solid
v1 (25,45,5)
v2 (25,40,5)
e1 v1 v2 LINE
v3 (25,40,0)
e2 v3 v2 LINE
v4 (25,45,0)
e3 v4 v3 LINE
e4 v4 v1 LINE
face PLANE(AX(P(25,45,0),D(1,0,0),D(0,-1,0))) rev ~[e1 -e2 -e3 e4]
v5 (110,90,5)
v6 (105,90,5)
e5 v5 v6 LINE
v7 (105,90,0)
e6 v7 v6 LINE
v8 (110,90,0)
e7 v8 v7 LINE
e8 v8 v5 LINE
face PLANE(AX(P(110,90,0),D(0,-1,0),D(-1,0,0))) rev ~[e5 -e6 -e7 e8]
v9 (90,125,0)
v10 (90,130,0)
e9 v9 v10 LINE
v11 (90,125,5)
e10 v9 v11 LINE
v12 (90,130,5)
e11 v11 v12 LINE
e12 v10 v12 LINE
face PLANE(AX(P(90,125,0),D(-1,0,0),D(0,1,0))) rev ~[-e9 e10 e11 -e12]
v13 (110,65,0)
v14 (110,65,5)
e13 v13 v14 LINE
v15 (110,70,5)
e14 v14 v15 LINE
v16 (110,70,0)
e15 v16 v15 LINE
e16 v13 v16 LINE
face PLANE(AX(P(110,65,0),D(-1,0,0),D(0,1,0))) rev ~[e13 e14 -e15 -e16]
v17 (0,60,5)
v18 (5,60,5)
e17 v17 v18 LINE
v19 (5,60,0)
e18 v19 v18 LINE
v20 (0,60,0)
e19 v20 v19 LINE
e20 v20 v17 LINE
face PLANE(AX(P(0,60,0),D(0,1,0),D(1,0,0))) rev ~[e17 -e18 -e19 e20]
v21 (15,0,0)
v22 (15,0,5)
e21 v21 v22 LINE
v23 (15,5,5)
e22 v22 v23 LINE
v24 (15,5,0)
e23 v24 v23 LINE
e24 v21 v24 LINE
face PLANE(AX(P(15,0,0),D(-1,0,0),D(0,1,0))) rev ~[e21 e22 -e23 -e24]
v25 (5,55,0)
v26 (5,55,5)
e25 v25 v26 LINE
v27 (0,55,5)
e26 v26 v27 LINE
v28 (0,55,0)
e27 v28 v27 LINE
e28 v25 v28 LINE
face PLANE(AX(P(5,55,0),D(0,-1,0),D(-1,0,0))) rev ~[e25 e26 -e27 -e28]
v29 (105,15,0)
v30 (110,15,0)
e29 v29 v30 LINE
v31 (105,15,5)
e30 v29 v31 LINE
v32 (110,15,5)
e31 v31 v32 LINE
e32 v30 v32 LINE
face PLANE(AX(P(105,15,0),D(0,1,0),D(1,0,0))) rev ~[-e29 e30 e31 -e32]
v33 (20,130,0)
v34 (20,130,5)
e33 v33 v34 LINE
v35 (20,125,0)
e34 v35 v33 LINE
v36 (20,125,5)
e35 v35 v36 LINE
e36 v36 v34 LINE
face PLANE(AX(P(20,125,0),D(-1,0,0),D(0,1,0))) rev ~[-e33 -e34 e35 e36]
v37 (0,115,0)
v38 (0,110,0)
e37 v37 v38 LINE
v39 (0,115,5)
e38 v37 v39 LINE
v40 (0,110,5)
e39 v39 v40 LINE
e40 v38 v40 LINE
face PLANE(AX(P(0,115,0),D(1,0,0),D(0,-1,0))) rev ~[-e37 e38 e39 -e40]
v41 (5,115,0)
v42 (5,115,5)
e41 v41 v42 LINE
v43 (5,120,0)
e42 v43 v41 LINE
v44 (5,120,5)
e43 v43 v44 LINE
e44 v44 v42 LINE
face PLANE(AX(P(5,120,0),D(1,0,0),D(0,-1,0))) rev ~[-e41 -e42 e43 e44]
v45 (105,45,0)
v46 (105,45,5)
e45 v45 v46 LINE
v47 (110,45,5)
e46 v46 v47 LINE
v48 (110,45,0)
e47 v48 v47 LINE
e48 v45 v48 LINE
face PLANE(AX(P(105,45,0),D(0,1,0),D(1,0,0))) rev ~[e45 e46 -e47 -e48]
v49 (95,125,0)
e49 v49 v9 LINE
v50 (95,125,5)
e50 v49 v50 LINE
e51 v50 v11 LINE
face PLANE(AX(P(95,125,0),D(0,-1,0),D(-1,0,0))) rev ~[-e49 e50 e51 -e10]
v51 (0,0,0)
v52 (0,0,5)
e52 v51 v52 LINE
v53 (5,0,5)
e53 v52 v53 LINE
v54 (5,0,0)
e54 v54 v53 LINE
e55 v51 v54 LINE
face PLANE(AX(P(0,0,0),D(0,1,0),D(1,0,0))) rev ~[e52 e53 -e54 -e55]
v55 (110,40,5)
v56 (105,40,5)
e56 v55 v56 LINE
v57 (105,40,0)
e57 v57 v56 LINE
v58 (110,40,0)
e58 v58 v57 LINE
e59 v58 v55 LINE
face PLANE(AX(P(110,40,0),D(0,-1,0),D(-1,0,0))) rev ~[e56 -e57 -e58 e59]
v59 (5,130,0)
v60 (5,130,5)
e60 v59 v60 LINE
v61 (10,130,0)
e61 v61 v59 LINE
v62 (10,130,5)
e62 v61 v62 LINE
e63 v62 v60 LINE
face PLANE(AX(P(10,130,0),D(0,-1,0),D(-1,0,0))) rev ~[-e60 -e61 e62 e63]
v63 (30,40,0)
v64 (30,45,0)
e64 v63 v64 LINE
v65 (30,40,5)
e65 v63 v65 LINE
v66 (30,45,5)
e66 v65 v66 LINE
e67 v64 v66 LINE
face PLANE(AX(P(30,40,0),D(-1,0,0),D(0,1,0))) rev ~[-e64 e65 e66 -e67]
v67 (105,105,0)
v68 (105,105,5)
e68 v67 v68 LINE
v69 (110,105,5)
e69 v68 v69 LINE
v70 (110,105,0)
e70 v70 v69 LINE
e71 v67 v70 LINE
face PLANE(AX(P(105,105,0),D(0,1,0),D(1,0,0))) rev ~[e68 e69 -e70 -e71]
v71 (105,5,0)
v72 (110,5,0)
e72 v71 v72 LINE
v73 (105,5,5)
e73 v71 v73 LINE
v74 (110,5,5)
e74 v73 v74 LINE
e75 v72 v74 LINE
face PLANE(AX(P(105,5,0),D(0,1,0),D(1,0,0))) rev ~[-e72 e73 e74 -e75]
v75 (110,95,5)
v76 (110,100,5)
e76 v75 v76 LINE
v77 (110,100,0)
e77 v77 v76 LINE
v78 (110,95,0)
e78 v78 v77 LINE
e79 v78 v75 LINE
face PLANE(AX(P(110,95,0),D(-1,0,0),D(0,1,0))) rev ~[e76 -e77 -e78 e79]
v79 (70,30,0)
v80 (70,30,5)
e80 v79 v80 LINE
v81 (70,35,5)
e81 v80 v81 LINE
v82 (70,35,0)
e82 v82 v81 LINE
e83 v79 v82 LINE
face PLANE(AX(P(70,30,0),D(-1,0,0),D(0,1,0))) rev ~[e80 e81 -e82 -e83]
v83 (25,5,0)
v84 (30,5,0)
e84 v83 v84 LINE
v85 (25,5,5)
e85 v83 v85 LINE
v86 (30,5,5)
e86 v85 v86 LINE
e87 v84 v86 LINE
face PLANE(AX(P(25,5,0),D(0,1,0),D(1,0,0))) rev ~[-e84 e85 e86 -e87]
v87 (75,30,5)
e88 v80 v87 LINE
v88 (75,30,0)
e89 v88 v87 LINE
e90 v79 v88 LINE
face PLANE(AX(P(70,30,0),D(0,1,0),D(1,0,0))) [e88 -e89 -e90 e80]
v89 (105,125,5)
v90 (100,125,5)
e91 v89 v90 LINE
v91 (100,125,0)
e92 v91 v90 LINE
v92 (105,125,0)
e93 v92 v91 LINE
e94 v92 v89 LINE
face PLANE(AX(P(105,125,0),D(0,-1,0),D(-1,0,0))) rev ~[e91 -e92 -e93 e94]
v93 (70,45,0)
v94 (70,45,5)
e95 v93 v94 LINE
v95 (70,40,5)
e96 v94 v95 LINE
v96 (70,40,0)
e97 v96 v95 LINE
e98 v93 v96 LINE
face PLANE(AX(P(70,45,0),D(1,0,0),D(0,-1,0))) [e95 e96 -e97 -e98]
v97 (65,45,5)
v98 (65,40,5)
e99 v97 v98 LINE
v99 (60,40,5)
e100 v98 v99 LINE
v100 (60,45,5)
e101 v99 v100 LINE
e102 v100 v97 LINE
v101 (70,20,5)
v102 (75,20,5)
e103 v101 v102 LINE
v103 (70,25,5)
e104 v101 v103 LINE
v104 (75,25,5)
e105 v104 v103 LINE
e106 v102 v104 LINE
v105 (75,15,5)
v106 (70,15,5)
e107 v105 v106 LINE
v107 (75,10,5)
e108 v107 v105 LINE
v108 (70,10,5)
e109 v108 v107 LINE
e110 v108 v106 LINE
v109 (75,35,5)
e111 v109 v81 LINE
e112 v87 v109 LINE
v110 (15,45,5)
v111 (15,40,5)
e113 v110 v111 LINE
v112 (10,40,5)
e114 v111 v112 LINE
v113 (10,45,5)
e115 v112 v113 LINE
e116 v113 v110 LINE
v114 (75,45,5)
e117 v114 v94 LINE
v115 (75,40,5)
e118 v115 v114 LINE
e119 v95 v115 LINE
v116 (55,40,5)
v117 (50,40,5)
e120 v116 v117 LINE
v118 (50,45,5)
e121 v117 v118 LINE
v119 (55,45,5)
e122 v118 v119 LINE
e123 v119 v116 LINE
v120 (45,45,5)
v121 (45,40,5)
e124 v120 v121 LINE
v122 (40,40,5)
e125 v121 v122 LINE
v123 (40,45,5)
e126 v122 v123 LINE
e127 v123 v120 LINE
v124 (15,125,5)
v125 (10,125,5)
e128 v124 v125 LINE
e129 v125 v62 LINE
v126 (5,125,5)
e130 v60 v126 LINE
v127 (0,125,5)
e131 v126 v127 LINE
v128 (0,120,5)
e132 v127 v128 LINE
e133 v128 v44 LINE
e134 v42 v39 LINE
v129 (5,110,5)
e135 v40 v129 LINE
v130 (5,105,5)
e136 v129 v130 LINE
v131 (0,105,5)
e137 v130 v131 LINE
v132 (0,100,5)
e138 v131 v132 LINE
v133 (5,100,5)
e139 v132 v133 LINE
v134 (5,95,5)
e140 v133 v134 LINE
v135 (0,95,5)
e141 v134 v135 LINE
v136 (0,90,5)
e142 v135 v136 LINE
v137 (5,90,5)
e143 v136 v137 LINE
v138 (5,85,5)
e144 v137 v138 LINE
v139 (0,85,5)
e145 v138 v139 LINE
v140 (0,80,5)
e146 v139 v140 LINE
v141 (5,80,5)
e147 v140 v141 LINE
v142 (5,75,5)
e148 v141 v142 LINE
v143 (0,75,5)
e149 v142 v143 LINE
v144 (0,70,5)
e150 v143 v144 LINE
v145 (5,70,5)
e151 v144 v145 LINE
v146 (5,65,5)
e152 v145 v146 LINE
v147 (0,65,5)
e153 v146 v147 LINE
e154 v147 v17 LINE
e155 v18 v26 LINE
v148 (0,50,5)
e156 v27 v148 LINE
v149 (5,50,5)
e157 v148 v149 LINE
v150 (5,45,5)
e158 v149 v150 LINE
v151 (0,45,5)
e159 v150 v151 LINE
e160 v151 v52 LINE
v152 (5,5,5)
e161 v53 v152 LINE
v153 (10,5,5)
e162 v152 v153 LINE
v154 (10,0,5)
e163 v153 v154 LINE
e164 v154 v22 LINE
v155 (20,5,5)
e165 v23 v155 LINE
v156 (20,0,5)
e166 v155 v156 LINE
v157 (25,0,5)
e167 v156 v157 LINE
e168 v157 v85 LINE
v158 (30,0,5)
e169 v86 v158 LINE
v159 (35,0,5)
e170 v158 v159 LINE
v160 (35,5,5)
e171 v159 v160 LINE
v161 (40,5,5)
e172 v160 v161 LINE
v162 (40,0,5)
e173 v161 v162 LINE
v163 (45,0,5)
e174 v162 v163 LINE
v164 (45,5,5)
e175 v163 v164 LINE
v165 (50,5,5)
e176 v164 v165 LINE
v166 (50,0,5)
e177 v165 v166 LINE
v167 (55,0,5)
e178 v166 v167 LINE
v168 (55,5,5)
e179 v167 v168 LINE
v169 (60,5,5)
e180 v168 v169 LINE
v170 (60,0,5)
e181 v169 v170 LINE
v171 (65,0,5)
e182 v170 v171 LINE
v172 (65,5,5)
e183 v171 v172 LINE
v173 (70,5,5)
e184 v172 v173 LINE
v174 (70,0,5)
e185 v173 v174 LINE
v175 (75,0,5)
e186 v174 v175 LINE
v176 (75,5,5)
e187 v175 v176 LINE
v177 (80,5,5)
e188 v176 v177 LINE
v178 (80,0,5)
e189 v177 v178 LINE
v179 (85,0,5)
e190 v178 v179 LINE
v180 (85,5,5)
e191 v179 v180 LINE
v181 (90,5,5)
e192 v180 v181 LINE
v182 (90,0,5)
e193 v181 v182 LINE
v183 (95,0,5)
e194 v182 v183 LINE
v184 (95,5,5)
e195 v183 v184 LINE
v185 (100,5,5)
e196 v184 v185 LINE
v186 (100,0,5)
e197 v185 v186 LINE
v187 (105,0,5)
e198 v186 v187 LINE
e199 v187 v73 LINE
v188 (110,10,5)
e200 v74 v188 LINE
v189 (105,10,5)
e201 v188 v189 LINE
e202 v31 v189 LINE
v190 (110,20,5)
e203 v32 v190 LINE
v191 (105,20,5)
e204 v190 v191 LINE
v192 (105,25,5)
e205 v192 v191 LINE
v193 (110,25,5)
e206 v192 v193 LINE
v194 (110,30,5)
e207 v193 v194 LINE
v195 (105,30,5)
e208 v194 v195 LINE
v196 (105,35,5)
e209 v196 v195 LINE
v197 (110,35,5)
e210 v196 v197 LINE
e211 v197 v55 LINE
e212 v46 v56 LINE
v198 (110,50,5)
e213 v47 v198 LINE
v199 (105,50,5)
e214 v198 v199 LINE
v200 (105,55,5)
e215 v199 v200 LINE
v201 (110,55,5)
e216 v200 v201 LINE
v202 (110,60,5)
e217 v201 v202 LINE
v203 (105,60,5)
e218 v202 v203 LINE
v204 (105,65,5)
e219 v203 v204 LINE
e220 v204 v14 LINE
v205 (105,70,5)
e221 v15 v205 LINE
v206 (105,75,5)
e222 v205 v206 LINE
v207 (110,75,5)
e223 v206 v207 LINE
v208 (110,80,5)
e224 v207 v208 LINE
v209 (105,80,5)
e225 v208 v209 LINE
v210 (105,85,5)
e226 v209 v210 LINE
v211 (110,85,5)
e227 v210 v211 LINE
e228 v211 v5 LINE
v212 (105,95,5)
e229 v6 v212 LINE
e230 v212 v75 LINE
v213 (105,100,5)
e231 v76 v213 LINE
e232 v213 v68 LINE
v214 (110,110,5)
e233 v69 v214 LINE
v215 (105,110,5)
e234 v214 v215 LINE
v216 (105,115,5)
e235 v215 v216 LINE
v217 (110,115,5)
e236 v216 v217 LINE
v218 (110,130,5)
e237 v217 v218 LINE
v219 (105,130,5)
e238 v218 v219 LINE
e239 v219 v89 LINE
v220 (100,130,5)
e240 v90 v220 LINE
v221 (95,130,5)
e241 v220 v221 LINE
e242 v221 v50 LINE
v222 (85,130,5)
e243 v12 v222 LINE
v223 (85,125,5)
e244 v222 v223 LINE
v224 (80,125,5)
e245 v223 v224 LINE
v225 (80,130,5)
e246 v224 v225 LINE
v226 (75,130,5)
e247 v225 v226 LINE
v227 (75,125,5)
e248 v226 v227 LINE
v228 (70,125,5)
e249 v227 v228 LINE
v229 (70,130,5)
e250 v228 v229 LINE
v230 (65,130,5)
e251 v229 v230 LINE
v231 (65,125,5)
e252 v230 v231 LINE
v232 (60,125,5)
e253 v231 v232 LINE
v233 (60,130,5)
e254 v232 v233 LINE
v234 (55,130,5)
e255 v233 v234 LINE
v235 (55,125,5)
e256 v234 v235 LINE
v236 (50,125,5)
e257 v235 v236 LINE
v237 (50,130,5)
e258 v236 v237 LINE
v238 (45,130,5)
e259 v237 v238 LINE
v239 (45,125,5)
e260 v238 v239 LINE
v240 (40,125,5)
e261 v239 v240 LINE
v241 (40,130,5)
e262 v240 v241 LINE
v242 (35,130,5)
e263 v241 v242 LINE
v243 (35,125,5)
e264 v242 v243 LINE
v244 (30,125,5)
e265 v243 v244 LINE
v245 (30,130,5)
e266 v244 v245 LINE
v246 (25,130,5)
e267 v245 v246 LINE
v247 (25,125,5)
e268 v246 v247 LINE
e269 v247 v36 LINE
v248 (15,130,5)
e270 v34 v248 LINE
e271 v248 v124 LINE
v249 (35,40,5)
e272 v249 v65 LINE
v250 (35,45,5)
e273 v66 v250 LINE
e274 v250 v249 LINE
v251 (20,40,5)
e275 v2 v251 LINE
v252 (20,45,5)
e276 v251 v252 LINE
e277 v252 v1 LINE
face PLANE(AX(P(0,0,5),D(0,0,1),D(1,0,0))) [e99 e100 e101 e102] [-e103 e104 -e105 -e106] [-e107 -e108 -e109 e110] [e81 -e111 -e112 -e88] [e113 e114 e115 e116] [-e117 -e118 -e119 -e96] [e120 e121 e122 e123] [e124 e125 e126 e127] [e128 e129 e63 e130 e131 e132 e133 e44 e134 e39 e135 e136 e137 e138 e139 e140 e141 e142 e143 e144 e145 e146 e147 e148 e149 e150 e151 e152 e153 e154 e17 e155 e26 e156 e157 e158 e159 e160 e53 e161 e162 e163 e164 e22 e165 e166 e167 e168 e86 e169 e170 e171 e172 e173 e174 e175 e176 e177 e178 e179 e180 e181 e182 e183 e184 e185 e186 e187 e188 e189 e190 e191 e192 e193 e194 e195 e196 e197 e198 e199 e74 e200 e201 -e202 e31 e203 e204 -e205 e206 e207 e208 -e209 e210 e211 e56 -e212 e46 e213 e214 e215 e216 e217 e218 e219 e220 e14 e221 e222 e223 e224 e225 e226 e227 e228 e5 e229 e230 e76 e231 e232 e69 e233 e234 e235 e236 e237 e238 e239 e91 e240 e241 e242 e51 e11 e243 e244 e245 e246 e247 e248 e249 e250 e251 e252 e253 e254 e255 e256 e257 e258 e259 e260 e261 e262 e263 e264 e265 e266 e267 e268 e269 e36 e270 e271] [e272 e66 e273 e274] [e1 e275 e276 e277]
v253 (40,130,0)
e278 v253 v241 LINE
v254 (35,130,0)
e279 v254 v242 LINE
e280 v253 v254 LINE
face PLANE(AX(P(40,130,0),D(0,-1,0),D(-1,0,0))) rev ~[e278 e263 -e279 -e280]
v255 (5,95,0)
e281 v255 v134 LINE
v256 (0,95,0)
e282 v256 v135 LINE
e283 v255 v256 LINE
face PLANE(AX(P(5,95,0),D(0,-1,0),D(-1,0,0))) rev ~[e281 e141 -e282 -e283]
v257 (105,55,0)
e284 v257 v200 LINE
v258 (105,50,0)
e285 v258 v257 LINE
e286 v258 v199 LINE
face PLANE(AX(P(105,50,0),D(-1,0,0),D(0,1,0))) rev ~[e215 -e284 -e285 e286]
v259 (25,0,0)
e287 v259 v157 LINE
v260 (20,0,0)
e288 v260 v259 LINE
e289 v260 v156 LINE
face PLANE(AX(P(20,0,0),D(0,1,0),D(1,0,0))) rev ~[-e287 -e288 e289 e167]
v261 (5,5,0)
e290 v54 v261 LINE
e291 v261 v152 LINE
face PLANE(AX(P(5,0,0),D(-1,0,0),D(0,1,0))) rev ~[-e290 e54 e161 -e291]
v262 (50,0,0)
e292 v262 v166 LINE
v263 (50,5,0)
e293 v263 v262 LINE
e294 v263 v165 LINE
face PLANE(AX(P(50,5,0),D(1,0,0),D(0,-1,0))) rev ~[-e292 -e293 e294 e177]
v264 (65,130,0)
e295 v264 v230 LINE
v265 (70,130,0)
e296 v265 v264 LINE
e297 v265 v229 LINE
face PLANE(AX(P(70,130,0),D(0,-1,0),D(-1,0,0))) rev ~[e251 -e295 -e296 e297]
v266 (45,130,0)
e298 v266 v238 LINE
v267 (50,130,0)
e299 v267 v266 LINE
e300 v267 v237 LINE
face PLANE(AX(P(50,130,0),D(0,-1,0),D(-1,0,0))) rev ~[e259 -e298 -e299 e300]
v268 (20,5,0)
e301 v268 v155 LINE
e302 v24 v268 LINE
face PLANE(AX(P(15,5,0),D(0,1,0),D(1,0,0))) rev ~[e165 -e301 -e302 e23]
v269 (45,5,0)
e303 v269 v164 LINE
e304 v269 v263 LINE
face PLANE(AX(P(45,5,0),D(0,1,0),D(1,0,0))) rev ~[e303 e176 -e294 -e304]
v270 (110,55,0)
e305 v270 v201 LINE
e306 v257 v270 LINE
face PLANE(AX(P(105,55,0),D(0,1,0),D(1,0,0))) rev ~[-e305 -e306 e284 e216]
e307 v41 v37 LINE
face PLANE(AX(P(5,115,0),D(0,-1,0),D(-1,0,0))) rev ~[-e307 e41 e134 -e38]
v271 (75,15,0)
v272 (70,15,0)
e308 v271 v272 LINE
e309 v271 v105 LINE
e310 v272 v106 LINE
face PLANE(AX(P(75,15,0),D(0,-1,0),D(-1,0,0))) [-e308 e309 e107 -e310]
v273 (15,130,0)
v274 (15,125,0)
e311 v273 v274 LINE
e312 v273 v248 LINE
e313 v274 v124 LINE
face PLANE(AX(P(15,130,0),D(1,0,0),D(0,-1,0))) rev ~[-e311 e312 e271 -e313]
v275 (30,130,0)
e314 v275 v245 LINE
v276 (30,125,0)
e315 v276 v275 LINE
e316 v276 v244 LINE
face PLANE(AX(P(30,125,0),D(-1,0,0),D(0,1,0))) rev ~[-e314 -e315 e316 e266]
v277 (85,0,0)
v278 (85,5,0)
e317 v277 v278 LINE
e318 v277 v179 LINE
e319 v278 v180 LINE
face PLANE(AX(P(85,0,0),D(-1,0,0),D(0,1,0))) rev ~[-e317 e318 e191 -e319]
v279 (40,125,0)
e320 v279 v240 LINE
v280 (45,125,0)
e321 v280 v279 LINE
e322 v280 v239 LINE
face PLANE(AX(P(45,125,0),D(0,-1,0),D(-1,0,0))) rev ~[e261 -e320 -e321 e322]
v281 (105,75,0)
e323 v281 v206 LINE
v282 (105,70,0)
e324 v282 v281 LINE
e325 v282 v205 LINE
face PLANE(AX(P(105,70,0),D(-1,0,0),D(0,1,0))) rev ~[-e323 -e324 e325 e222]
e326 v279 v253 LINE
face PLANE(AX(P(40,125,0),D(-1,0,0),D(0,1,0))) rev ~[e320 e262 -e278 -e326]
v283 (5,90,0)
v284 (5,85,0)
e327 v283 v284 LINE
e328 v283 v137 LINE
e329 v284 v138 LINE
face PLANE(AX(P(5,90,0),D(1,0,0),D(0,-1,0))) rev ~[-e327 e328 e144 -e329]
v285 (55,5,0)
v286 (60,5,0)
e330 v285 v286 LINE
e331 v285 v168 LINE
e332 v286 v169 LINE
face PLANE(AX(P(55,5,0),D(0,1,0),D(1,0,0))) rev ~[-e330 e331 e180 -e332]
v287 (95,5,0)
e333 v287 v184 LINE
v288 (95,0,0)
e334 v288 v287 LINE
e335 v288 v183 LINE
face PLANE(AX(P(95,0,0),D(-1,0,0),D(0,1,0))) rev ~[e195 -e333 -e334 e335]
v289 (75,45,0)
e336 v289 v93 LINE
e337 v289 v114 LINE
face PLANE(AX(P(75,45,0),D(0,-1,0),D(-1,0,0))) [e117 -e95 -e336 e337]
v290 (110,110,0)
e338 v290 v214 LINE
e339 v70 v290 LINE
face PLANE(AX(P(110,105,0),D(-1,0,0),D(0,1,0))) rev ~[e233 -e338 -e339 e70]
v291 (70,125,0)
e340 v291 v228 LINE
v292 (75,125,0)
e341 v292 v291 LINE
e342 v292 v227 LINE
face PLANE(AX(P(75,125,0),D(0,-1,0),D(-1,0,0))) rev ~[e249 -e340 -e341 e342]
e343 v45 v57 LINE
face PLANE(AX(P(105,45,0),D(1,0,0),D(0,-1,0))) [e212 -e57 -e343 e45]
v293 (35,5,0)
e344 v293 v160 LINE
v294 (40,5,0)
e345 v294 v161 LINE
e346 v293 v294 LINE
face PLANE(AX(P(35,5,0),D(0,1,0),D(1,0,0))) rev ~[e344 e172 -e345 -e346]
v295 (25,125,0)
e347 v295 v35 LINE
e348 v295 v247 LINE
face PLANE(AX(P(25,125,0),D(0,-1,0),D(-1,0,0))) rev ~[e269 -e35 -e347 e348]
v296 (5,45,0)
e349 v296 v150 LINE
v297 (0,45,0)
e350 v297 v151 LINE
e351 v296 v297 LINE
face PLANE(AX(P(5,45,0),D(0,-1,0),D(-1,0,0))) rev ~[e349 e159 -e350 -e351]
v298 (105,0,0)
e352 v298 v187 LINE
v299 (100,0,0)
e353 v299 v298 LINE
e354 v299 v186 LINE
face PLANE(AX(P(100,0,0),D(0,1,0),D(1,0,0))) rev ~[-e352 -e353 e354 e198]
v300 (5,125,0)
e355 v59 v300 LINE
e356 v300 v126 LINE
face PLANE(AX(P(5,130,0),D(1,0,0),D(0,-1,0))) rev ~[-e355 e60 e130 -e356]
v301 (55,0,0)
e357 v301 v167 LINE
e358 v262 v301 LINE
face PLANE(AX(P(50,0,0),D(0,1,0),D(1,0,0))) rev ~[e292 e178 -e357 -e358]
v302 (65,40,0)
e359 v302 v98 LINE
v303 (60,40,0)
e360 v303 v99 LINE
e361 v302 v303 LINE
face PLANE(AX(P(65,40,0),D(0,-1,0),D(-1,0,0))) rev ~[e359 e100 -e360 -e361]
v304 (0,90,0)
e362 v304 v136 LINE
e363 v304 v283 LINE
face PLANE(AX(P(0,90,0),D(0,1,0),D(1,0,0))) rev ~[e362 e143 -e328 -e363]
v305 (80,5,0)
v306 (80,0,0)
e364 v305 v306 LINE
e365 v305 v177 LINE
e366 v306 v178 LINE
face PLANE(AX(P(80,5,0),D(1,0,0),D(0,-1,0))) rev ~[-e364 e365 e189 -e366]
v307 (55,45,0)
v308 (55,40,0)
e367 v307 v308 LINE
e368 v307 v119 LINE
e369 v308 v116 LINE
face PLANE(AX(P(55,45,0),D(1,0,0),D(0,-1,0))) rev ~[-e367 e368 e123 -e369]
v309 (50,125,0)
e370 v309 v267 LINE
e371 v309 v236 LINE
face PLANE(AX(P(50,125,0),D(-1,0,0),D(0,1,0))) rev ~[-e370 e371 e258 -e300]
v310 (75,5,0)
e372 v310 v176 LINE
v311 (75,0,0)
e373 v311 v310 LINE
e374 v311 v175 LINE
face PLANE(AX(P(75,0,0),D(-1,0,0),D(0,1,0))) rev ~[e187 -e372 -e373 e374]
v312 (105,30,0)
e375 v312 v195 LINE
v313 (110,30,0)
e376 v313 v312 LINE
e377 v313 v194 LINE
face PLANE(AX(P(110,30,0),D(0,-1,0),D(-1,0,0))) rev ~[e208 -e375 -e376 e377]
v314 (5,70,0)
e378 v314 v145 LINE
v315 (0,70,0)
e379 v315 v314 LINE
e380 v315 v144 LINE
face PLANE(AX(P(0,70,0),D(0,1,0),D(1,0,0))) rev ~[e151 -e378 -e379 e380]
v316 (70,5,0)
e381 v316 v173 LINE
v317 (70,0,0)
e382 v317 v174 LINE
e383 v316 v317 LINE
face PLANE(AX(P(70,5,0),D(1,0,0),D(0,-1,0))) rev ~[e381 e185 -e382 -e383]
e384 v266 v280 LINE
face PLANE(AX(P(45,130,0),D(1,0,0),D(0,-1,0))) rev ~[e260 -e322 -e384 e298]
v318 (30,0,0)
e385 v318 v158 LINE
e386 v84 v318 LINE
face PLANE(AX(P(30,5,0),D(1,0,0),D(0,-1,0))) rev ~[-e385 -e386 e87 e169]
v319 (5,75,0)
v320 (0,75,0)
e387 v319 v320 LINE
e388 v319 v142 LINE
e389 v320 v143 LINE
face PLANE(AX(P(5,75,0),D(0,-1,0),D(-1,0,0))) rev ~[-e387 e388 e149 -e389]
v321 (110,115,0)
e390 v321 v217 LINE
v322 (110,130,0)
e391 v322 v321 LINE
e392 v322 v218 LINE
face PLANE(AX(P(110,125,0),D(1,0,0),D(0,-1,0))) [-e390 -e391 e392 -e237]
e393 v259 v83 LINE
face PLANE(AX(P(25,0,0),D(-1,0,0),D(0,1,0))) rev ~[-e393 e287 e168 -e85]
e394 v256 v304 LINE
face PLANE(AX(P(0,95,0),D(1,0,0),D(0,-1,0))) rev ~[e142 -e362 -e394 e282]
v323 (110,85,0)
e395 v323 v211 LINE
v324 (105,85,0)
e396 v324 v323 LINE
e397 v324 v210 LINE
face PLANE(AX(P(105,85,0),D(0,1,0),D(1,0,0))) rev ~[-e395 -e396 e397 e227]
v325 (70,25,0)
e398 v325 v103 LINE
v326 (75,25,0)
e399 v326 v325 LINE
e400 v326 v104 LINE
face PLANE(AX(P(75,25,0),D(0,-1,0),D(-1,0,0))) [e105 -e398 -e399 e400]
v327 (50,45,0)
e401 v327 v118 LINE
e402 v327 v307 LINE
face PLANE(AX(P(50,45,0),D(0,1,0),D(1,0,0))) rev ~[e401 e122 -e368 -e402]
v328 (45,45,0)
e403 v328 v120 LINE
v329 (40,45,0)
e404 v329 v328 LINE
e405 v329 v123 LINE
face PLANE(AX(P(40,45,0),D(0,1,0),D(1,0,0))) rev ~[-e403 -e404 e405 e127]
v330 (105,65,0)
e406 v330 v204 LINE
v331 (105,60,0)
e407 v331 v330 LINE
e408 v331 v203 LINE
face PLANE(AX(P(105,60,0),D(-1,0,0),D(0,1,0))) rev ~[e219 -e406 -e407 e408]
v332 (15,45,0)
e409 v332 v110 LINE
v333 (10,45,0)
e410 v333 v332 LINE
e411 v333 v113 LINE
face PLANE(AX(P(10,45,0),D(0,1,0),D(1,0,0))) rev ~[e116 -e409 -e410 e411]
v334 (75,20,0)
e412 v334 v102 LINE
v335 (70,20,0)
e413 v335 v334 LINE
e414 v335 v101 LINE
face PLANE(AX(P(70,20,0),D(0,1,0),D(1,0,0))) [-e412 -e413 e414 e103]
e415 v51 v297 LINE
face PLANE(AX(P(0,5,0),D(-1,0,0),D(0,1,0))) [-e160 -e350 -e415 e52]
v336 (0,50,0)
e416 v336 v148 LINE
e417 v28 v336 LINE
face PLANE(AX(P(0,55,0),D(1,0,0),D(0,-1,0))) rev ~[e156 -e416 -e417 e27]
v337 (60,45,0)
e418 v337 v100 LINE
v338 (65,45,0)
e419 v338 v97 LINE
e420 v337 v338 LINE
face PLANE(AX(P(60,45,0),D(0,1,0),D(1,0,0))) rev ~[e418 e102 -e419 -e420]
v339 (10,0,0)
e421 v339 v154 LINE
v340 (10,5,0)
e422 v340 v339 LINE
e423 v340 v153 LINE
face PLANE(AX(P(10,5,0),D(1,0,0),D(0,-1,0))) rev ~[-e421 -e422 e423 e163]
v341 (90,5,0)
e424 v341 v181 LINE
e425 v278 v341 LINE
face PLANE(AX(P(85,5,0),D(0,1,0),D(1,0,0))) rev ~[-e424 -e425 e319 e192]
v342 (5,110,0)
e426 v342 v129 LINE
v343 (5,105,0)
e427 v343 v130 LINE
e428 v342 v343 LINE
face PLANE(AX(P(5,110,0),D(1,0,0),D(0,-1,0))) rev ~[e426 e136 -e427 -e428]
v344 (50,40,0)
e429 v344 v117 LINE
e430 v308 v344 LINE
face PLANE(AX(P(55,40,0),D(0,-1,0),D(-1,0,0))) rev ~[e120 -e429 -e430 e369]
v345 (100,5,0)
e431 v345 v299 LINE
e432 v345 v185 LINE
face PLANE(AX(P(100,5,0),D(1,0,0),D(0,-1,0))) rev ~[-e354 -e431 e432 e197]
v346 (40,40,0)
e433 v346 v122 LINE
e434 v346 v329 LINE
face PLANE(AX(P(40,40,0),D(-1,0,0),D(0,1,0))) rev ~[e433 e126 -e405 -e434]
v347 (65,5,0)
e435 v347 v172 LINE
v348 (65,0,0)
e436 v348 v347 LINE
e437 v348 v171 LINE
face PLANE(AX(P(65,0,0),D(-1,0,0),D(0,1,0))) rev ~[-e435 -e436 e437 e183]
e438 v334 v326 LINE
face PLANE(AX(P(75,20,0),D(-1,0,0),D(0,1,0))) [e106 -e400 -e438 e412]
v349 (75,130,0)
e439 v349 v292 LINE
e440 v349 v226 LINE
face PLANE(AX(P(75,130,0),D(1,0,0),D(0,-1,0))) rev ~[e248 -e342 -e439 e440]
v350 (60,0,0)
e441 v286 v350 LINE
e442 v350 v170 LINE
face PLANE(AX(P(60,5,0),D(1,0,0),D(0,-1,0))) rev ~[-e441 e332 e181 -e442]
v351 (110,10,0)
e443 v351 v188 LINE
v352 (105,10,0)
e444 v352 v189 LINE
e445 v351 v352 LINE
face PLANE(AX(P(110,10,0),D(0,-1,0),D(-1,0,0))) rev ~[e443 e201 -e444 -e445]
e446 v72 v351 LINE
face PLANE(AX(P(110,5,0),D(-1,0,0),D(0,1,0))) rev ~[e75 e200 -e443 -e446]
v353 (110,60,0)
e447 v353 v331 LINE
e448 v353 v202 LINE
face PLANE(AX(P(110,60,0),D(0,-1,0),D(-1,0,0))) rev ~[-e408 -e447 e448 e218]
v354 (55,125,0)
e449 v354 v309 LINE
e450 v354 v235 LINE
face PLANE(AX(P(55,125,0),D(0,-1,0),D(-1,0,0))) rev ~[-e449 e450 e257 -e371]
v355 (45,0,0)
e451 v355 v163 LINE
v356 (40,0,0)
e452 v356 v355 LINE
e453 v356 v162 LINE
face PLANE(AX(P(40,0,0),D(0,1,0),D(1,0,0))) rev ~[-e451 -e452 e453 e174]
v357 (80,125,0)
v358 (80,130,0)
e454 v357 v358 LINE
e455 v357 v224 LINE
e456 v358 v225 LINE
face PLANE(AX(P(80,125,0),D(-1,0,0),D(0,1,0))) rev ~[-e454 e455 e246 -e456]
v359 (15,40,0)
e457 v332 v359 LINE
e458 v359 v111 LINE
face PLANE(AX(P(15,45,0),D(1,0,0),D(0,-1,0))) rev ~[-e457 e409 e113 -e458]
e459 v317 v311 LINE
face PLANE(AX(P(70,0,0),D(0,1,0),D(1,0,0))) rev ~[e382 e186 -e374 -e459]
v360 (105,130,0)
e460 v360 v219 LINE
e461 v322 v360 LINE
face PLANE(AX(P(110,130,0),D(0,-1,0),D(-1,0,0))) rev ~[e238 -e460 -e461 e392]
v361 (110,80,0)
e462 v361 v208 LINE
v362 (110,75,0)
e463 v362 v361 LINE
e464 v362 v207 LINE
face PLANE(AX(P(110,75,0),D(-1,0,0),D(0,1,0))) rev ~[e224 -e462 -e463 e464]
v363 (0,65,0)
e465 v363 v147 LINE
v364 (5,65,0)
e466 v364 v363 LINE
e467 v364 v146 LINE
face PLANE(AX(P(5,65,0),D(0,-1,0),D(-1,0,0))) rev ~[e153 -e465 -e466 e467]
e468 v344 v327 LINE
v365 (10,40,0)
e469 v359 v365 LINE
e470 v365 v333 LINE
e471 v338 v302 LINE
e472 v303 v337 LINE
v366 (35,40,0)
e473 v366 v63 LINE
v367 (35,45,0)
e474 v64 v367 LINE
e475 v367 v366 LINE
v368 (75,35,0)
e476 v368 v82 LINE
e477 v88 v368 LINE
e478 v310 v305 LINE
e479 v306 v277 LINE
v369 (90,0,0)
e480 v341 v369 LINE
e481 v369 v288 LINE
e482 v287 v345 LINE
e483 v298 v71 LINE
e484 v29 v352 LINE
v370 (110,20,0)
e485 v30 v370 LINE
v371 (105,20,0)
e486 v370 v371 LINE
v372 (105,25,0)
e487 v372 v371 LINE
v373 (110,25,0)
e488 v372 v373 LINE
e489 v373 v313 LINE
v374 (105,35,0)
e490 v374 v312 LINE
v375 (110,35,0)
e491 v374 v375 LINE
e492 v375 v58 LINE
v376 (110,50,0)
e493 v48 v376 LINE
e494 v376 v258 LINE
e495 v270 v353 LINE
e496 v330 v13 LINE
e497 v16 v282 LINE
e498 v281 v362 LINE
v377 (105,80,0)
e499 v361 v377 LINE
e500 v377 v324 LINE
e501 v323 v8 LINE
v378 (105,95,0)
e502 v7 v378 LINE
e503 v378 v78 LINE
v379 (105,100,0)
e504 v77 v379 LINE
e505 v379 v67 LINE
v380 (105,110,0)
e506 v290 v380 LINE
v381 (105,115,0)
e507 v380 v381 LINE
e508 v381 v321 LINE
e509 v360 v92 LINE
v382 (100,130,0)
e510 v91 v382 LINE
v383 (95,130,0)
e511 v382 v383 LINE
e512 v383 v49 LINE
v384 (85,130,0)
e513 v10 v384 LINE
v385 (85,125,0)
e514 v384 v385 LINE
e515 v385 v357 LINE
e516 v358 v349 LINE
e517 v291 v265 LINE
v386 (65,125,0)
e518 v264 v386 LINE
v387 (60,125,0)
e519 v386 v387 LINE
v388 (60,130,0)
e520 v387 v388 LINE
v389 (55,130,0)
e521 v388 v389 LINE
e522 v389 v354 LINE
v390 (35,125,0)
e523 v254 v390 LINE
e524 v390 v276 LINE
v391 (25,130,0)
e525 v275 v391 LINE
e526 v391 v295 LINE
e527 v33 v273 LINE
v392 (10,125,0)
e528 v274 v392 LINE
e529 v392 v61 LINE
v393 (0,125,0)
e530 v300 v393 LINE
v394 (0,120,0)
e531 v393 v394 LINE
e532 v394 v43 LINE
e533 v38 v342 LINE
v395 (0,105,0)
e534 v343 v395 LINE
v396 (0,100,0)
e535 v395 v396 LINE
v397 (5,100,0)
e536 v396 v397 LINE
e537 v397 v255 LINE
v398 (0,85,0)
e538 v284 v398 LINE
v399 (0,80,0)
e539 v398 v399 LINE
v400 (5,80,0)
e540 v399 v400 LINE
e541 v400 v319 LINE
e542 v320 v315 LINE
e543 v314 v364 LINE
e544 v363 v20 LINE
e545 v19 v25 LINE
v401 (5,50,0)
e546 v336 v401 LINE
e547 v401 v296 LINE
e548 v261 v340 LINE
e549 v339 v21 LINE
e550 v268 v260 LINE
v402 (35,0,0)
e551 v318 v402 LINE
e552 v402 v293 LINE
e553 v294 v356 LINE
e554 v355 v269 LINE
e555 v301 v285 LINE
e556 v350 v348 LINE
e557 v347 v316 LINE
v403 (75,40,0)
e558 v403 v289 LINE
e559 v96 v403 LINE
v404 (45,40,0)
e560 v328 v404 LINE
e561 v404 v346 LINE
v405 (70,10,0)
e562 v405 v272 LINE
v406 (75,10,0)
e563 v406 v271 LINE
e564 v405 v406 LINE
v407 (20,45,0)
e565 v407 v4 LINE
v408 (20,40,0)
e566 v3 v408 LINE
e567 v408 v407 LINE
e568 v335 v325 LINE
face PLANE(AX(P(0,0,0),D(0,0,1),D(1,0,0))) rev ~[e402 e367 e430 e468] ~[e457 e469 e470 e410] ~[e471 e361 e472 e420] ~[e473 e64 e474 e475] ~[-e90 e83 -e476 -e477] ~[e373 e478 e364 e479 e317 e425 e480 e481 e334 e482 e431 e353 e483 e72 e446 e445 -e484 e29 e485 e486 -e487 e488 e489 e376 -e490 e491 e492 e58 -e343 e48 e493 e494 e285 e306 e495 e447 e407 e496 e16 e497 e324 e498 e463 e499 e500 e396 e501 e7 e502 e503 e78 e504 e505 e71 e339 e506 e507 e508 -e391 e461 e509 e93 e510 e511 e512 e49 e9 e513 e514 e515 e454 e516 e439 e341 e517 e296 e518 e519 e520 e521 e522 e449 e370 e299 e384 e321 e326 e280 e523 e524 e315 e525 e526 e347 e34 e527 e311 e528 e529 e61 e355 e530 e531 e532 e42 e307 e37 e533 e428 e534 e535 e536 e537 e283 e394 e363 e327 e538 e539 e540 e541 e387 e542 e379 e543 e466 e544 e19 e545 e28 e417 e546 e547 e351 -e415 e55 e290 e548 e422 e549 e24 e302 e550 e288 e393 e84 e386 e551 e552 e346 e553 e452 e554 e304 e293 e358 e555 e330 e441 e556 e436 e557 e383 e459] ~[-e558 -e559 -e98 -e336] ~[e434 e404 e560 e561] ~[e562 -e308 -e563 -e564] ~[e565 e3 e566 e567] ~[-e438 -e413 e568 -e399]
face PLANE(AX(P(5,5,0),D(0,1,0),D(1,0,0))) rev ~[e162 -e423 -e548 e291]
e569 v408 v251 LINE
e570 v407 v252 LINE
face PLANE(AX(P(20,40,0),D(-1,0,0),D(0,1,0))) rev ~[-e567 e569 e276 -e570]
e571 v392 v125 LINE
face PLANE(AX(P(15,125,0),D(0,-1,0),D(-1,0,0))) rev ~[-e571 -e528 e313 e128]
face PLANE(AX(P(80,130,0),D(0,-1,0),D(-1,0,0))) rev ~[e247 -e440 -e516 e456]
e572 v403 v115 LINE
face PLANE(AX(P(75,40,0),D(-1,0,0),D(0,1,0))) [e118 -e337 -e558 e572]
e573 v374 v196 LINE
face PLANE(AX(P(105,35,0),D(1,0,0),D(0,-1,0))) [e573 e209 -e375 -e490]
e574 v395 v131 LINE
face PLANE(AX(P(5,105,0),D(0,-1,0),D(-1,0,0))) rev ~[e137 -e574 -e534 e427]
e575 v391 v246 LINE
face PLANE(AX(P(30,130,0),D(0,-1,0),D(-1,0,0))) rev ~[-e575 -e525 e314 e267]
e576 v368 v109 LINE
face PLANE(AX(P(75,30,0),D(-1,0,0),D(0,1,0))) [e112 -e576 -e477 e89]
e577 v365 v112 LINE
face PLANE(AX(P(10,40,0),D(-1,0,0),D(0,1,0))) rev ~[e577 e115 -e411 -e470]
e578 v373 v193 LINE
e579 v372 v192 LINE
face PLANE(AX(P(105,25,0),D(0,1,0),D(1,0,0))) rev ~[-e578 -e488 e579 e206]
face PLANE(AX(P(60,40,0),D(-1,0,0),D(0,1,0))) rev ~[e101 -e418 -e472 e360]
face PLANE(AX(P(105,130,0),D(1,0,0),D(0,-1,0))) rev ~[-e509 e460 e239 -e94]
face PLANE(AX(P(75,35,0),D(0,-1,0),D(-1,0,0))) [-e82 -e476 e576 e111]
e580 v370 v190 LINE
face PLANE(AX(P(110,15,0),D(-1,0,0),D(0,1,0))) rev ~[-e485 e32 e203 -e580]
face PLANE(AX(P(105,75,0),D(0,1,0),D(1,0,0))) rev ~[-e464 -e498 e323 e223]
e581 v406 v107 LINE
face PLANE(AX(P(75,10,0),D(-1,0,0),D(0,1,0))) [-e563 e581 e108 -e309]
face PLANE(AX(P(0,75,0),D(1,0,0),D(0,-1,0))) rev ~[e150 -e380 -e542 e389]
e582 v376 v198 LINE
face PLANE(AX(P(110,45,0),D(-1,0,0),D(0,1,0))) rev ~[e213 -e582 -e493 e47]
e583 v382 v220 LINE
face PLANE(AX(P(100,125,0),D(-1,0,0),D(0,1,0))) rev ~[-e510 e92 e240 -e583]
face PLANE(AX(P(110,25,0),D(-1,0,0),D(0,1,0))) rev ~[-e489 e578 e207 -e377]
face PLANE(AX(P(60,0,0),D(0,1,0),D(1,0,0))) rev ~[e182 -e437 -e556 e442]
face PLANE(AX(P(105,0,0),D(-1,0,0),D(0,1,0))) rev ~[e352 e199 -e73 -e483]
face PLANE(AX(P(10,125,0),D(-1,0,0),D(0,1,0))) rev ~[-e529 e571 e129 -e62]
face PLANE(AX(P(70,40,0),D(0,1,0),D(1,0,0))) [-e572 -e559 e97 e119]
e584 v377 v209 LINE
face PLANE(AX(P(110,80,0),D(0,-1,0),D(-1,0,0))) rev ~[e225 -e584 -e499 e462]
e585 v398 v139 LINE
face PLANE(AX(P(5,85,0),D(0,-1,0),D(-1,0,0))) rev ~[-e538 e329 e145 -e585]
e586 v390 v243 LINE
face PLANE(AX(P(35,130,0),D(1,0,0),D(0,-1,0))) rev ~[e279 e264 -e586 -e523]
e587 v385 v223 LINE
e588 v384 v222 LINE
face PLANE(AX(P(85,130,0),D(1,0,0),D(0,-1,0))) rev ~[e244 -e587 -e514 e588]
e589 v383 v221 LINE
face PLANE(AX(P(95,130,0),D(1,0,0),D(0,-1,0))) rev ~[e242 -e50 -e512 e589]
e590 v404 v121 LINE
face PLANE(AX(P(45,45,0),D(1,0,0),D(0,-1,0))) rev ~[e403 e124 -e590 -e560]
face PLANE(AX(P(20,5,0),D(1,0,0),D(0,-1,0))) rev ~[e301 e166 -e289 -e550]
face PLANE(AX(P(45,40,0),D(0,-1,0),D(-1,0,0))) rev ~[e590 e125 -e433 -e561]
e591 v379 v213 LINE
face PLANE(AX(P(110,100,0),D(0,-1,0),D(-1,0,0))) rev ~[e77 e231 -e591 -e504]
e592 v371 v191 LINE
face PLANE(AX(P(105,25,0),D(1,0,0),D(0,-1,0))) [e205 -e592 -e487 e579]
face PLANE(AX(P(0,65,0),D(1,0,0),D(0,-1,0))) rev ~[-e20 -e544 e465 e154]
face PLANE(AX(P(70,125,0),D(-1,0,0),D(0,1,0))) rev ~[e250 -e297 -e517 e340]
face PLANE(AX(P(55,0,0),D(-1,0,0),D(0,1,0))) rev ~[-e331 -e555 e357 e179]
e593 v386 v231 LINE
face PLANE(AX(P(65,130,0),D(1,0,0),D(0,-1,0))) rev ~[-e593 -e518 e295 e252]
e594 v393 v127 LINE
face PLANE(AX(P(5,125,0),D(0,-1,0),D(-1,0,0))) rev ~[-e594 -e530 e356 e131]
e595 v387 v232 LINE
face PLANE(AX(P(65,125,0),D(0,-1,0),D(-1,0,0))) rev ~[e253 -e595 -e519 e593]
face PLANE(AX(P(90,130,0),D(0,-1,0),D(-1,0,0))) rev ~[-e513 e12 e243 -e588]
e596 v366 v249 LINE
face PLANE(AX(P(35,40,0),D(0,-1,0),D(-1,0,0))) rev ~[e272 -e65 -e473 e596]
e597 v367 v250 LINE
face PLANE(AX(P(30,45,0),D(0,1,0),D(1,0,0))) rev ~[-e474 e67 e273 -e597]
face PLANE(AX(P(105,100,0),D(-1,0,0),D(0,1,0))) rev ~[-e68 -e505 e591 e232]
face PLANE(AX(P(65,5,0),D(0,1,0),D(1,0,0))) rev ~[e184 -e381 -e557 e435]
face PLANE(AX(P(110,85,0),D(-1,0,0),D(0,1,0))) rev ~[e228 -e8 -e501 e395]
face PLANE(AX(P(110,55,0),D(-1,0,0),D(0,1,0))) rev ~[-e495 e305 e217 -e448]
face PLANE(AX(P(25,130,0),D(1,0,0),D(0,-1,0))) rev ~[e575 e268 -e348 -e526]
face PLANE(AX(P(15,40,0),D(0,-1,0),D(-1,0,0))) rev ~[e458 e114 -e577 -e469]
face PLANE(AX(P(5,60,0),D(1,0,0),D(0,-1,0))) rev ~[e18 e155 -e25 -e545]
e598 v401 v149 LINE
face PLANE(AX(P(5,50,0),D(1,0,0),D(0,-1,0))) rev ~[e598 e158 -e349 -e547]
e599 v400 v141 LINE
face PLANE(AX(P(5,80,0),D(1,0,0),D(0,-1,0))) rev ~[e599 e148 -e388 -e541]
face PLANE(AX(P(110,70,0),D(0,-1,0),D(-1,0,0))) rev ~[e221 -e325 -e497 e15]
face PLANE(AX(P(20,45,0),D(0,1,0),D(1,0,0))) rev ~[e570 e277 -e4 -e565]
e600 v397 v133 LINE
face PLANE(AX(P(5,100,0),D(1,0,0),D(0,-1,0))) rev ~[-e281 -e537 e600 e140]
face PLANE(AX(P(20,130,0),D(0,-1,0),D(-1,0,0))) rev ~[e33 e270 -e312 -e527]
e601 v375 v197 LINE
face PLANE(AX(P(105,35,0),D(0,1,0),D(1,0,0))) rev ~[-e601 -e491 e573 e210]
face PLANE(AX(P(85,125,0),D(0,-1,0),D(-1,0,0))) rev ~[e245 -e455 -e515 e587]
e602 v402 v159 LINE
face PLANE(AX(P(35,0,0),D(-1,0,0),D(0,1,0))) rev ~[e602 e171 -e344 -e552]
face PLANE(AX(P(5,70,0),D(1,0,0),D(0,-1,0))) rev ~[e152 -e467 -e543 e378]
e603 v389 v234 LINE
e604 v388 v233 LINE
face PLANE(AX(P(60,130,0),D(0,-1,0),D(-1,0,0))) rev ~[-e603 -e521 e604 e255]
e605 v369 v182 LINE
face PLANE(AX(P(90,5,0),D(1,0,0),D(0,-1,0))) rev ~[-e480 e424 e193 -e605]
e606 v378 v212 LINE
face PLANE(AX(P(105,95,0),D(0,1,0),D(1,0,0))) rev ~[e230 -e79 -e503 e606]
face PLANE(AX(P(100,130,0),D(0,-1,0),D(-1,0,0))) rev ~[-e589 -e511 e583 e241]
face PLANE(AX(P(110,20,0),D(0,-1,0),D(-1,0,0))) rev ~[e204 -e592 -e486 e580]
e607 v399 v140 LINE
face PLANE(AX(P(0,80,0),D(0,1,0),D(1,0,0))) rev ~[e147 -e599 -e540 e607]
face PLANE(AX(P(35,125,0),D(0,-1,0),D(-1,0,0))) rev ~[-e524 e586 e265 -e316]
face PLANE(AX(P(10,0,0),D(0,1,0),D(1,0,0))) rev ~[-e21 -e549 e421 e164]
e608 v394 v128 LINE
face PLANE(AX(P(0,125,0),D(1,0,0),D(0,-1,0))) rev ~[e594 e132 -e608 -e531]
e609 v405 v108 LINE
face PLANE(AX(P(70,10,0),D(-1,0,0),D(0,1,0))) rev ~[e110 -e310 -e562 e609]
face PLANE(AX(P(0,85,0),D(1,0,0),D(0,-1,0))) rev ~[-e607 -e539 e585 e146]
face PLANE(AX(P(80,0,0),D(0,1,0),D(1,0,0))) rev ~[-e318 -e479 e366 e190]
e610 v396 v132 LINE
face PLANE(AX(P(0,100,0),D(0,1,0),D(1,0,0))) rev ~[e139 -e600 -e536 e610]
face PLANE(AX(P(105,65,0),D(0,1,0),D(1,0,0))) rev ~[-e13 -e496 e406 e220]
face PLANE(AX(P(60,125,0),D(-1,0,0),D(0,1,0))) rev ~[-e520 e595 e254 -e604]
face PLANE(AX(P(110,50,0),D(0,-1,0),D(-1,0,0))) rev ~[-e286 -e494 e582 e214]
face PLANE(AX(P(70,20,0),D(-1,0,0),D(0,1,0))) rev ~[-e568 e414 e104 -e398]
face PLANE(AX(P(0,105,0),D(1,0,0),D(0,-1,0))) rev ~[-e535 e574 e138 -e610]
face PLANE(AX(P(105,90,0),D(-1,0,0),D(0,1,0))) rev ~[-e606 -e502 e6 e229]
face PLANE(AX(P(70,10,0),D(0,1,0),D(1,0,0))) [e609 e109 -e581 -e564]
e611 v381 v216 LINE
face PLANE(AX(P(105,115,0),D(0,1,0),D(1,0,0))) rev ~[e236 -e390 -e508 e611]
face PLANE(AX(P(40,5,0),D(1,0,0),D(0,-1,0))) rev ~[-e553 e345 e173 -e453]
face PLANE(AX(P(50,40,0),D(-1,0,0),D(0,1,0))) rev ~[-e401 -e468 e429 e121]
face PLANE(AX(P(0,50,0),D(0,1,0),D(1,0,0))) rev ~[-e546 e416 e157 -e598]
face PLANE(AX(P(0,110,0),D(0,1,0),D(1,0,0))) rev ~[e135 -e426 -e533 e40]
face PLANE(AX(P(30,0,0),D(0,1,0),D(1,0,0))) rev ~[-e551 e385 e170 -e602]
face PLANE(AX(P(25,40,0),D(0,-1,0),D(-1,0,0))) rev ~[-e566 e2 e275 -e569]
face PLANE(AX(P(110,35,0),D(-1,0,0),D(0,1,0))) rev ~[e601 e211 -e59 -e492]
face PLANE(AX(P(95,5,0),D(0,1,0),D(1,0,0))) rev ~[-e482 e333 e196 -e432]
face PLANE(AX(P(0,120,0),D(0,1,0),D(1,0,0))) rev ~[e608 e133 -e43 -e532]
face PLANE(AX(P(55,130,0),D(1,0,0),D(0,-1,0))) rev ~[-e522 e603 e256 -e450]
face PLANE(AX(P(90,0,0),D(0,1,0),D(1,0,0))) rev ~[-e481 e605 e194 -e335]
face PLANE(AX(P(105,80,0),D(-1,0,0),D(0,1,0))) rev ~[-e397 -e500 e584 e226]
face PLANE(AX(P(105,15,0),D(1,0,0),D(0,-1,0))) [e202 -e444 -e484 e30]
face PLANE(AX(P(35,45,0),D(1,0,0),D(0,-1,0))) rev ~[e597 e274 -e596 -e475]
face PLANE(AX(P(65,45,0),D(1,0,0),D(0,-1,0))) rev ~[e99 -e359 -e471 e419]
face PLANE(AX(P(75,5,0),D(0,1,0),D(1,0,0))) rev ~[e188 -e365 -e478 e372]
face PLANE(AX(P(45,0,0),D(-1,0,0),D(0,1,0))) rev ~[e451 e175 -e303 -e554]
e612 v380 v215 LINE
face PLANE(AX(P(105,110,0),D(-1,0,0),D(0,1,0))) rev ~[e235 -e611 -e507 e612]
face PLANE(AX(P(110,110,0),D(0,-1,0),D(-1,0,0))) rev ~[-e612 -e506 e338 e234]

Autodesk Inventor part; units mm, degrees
ref_plane "YZ Plane" through (0, 0, 0) normal (1, 0, 0) x (0, 1, 0)
ref_plane "XZ Plane" through (0, 0, 0) normal (0, 1, 0) x (-1, 0, 0)
ref_plane "XY Plane" through (0, 0, 0) normal (0, 0, 1) x (1, 0, 0)
sketch "Sketch1" plane through (0, 0, 0) normal (0, 0, 1) x (1, 0, 0)
  line L0 (5, 5) -> (105, 5)
  line L1 (105, 45) -> (105, 125)
  line L2 (105, 125) -> (5, 125)
  line L3 (5, 85) -> (5, 5)
  line L4 (0, 0) -> (5, 0)
  line L5 (5, 0) -> (5, 5)
  line L6 (5, 5) -> (0, 5)
  line L7 (0, 5) -> (0, 0)
  line L8 (105, 125) -> (110, 125)
  line L9 (110, 125) -> (110, 130)
  line L10 (110, 130) -> (105, 130)
  line L11 (105, 130) -> (105, 125)
  line L12 (5, 125) -> (5, 85)
  line L13 (105, 45) -> (105, 5)
  line L14 (5, 15) -> (0, 15)
  line L15 (0, 10) -> (5, 10)
  line L16 (0, 15) -> (0, 10)
  line L17 (5, 10) -> (5, 15)
  line L18 (5, 25) -> (0, 25)
  line L19 (0, 20) -> (5, 20)
  line L20 (0, 25) -> (0, 20)
  line L21 (5, 20) -> (5, 25)
  line L22 (5, 35) -> (0, 35)
  line L23 (0, 30) -> (5, 30)
  line L24 (0, 35) -> (0, 30)
  line L25 (5, 30) -> (5, 35)
  line L26 (5, 45) -> (0, 45)
  line L27 (0, 40) -> (5, 40)
  line L28 (0, 45) -> (0, 40)
  line L29 (5, 40) -> (5, 45)
  line L30 (5, 55) -> (0, 55)
  line L31 (0, 50) -> (5, 50)
  line L32 (0, 55) -> (0, 50)
  line L33 (5, 50) -> (5, 55)
  line L34 (5, 65) -> (0, 65)
  line L35 (0, 60) -> (5, 60)
  line L36 (0, 65) -> (0, 60)
  line L37 (5, 60) -> (5, 65)
  line L38 (5, 75) -> (0, 75)
  line L39 (0, 70) -> (5, 70)
  line L40 (0, 75) -> (0, 70)
  line L41 (5, 70) -> (5, 75)
  line L42 (5, 85) -> (0, 85)
  line L43 (0, 80) -> (5, 80)
  line L44 (0, 85) -> (0, 80)
  line L45 (5, 80) -> (5, 85)
  line L46 (5, 95) -> (0, 95)
  line L47 (0, 90) -> (5, 90)
  line L48 (0, 95) -> (0, 90)
  line L49 (5, 90) -> (5, 95)
  line L50 (5, 105) -> (0, 105)
  line L51 (0, 100) -> (5, 100)
  line L52 (0, 105) -> (0, 100)
  line L53 (5, 100) -> (5, 105)
  line L54 (5, 115) -> (0, 115)
  line L55 (0, 110) -> (5, 110)
  line L56 (0, 115) -> (0, 110)
  line L57 (5, 110) -> (5, 115)
  line L58 (5, 125) -> (0, 125)
  line L59 (0, 120) -> (5, 120)
  line L60 (0, 125) -> (0, 120)
  line L61 (5, 120) -> (5, 125)
  line L62 (10, 0) -> (15, 0)
  line L63 (15, 0) -> (15, 5)
  line L64 (15, 5) -> (10, 5)
  line L65 (10, 5) -> (10, 0)
  line L66 (20, 0) -> (25, 0)
  line L67 (25, 0) -> (25, 5)
  line L68 (25, 5) -> (20, 5)
  line L69 (20, 5) -> (20, 0)
  line L70 (30, 0) -> (35, 0)
  line L71 (35, 0) -> (35, 5)
  line L72 (35, 5) -> (30, 5)
  line L73 (30, 5) -> (30, 0)
  line L74 (40, 0) -> (45, 0)
  line L75 (45, 0) -> (45, 5)
  line L76 (45, 5) -> (40, 5)
  line L77 (40, 5) -> (40, 0)
  line L78 (50, 0) -> (55, 0)
  line L79 (55, 0) -> (55, 5)
  line L80 (55, 5) -> (50, 5)
  line L81 (50, 5) -> (50, 0)
  line L82 (60, 0) -> (65, 0)
  line L83 (65, 0) -> (65, 5)
  line L84 (65, 5) -> (60, 5)
  line L85 (60, 5) -> (60, 0)
  line L86 (70, 0) -> (75, 0)
  line L87 (75, 0) -> (75, 5)
  line L88 (75, 5) -> (70, 5)
  line L89 (70, 5) -> (70, 0)
  line L90 (80, 0) -> (85, 0)
  line L91 (85, 0) -> (85, 5)
  line L92 (85, 5) -> (80, 5)
  line L93 (80, 5) -> (80, 0)
  line L94 (90, 0) -> (95, 0)
  line L95 (95, 0) -> (95, 5)
  line L96 (95, 5) -> (90, 5)
  line L97 (90, 5) -> (90, 0)
  line L98 (100, 0) -> (105, 0)
  line L99 (105, 0) -> (105, 5)
  line L100 (105, 5) -> (100, 5)
  line L101 (100, 5) -> (100, 0)
  line L102 (105, 120) -> (105, 115)
  line L103 (110, 120) -> (105, 120)
  line L104 (110, 115) -> (110, 120)
  line L105 (105, 115) -> (110, 115)
  line L106 (105, 110) -> (105, 105)
  line L107 (110, 110) -> (105, 110)
  line L108 (110, 105) -> (110, 110)
  line L109 (105, 105) -> (110, 105)
  line L110 (105, 100) -> (105, 95)
  line L111 (110, 100) -> (105, 100)
  line L112 (110, 95) -> (110, 100)
  line L113 (105, 95) -> (110, 95)
  line L114 (105, 90) -> (105, 85)
  line L115 (110, 90) -> (105, 90)
  line L116 (110, 85) -> (110, 90)
  line L117 (105, 85) -> (110, 85)
  line L118 (105, 80) -> (105, 75)
  line L119 (110, 80) -> (105, 80)
  line L120 (110, 75) -> (110, 80)
  line L121 (105, 75) -> (110, 75)
  line L122 (105, 70) -> (105, 65)
  line L123 (110, 70) -> (105, 70)
  line L124 (110, 65) -> (110, 70)
  line L125 (105, 65) -> (110, 65)
  line L126 (105, 60) -> (105, 55)
  line L127 (110, 60) -> (105, 60)
  line L128 (110, 55) -> (110, 60)
  line L129 (105, 55) -> (110, 55)
  line L130 (105, 50) -> (105, 45)
  line L131 (110, 50) -> (105, 50)
  line L132 (110, 45) -> (110, 50)
  line L133 (105, 45) -> (110, 45)
  line L134 (105, 40) -> (105, 35)
  line L135 (110, 40) -> (105, 40)
  line L136 (110, 35) -> (110, 40)
  line L137 (105, 35) -> (110, 35)
  line L138 (105, 30) -> (105, 25)
  line L139 (110, 30) -> (105, 30)
  line L140 (110, 25) -> (110, 30)
  line L141 (105, 25) -> (110, 25)
  line L142 (105, 20) -> (105, 15)
  line L143 (110, 20) -> (105, 20)
  line L144 (110, 15) -> (110, 20)
  line L145 (105, 15) -> (110, 15)
  line L146 (105, 10) -> (105, 5)
  line L147 (110, 10) -> (105, 10)
  line L148 (110, 5) -> (110, 10)
  line L149 (105, 5) -> (110, 5)
  line L150 (95, 130) -> (95, 125)
  line L151 (100, 130) -> (95, 130)
  line L152 (100, 125) -> (100, 130)
  line L153 (95, 125) -> (100, 125)
  line L154 (85, 130) -> (85, 125)
  line L155 (90, 130) -> (85, 130)
  line L156 (90, 125) -> (90, 130)
  line L157 (85, 125) -> (90, 125)
  line L158 (75, 130) -> (75, 125)
  line L159 (80, 130) -> (75, 130)
  line L160 (80, 125) -> (80, 130)
  line L161 (75, 125) -> (80, 125)
  line L162 (65, 130) -> (65, 125)
  line L163 (70, 130) -> (65, 130)
  line L164 (70, 125) -> (70, 130)
  line L165 (65, 125) -> (70, 125)
  line L166 (55, 130) -> (55, 125)
  line L167 (60, 130) -> (55, 130)
  line L168 (60, 125) -> (60, 130)
  line L169 (55, 125) -> (60, 125)
  line L170 (45, 130) -> (45, 125)
  line L171 (50, 130) -> (45, 130)
  line L172 (50, 125) -> (50, 130)
  line L173 (45, 125) -> (50, 125)
  line L174 (35, 130) -> (35, 125)
  line L175 (40, 130) -> (35, 130)
  line L176 (40, 125) -> (40, 130)
  line L177 (35, 125) -> (40, 125)
  line L178 (25, 130) -> (25, 125)
  line L179 (30, 130) -> (25, 130)
  line L180 (30, 125) -> (30, 130)
  line L181 (25, 125) -> (30, 125)
  line L182 (15, 130) -> (15, 125)
  line L183 (20, 130) -> (15, 130)
  line L184 (20, 125) -> (20, 130)
  line L185 (15, 125) -> (20, 125)
  line L186 (5, 130) -> (5, 125)
  line L187 (10, 130) -> (5, 130)
  line L188 (10, 125) -> (10, 130)
  line L189 (5, 125) -> (10, 125)
  line L190 (105, 125) -> (110, 125)
  line L191 (110, 125) -> (110, 110)
  line L192 (110, 110) -> (105, 110)
  line L193 (105, 110) -> (105, 125)
  line L194 (5, 5) -> (0, 5)
  line L195 (0, 5) -> (0, 50)
  line L196 (0, 50) -> (5, 50)
  line L197 (5, 50) -> (5, 5)
  line L198 (0, 5) -> (70, 5)
  line L199 (70, 5) -> (70, 40)
  line L200 (70, 40) -> (0, 40)
  line L201 (0, 40) -> (0, 5)
  line L202 (10, 45) -> (15, 45)
  line L203 (15, 45) -> (15, 40)
  line L204 (15, 40) -> (10, 40)
  line L205 (10, 40) -> (10, 45)
  line L206 (20, 40) -> (20, 45)
  line L207 (20, 45) -> (25, 45)
  line L208 (25, 45) -> (25, 40)
  line L209 (30, 40) -> (30, 45)
  line L210 (30, 45) -> (35, 45)
  line L211 (35, 45) -> (35, 40)
  line L212 (40, 40) -> (40, 45)
  line L213 (40, 45) -> (45, 45)
  line L214 (45, 45) -> (45, 40)
  line L215 (50, 40) -> (50, 45)
  line L216 (50, 45) -> (55, 45)
  line L217 (55, 45) -> (55, 40)
  line L218 (60, 40) -> (60, 45)
  line L219 (60, 45) -> (65, 45)
  line L220 (65, 45) -> (65, 40)
  line L221 (70, 10) -> (75, 10)
  line L222 (75, 10) -> (75, 15)
  line L223 (75, 15) -> (70, 15)
  line L224 (70, 15) -> (70, 10)
  line L225 (75, 20) -> (75, 25)
  line L226 (75, 25) -> (70, 25)
  line L227 (70, 20) -> (75, 20)
  line L228 (75, 30) -> (75, 35)
  line L229 (75, 35) -> (70, 35)
  line L230 (70, 30) -> (75, 30)
  line L231 (75, 40) -> (75, 45)
  line L232 (75, 45) -> (70, 45)
  line L233 (70, 40) -> (75, 40)
  line L234 (70, 45) -> (70, 40)
  point P0 (7.75, 7)
  point P1 (7.75, 17)
  point P2 (7.75, 27)
  point P3 (7.75, 37)
  point P4 (7.75, 47)
  point P5 (7.75, 57)
  point P6 (7.75, 67)
  point P7 (7.75, 77)
  point P8 (7.75, 87)
  point P9 (7.75, 97)
  point P10 (7.75, 107)
  point P11 (7.75, 117)
  point P12 (7.75, 127)
  point P13 (105, 115)
  point P14 (105, 105)
  point P15 (105, 95)
  point P16 (105, 85)
  point P17 (105, 75)
  point P18 (105, 65)
  point P19 (105, 55)
  point P20 (105, 35)
  point P21 (105, 25)
  point P22 (105, 15)
  point P23 (95, 125)
  point P24 (85, 125)
  point P25 (75, 125)
  point P26 (65, 125)
  point P27 (55, 125)
  point P28 (45, 125)
  point P29 (35, 125)
  point P30 (25, 125)
  point P31 (15, 125)
  point P32 (5, 125)
  dimension "d0" = 100
  dimension "d1" = 80
  dimension "d16" = 5
  dimension "d17" = 5
  dimension "d39" = 10
  dimension "d46" = 10
  dimension "d53" = 10
  dimension "d60" = 10
  dimension "d69" = 10
  dimension "d76" = 10
  dimension "d81" = 65
  dimension "d82" = 35
extrude "Extrusion1" add sketch "Sketch1" along normal blind 5 contours L3 L200 L199 L0 | L6 L195 L15 L3 | L5 L4 L7 L6 | L0 L63 L62 L65 | L15 L16 L14 L3 | L14 L195 L19 L3 | L0 L67 L66 L69 | L19 L20 L18 L3 | L18 L195 L23 L3 | L0 L71 L70 L73 | L23 L24 L22 L3 | L22 L195 L27 L3 | L0 L75 L74 L77 | L27 L28 L26 L3 | L3 L12 L2 L1 L13 L0 L199 L221 L222 L223 L227 L225 L226 L230 L228 L229 L200 L220 L219 L218 L217 L216 L215 L214 L213 L212 L211 L210 L209 L208 L207 L206 L203 L202 L205 | L0 L79 L78 L81 | L31 L32 L30 L3 | L0 L83 L82 L85 | L35 L36 L34 L3 | L0 L87 L86 L89 | L39 L40 L38 L3 | L0 L91 L90 L93 | L43 L44 L42 L3 | L0 L95 L94 L97 | L47 L48 L46 L12 | L0 L99 L98 L101 | L51 L52 L50 L12 | L13 L147 L148 L149 | L55 L56 L54 L12 | L13 L143 L144 L145 | L59 L60 L58 L12 | L13 L139 L140 L141 | L186 L187 L188 L2 | L13 L135 L136 L137 | L182 L183 L184 L2 | L1 L131 L132 L133 | L178 L179 L180 L2 | L1 L127 L128 L129 | L174 L175 L176 L2 | L1 L123 L124 L125 | L170 L171 L172 L2 | L1 L119 L120 L121 | L166 L167 L168 L2 | L1 L115 L116 L117 | L162 L163 L164 L2 | L1 L111 L112 L113 | L158 L159 L160 L2 | L1 L107 L108 L109 | L154 L155 L156 L2 | L1 L103 L104 L105 | L150 L151 L152 L2 | L1 L8 L191 L103 | L11 L10 L9 L8
properties part number "topsidesketch"
